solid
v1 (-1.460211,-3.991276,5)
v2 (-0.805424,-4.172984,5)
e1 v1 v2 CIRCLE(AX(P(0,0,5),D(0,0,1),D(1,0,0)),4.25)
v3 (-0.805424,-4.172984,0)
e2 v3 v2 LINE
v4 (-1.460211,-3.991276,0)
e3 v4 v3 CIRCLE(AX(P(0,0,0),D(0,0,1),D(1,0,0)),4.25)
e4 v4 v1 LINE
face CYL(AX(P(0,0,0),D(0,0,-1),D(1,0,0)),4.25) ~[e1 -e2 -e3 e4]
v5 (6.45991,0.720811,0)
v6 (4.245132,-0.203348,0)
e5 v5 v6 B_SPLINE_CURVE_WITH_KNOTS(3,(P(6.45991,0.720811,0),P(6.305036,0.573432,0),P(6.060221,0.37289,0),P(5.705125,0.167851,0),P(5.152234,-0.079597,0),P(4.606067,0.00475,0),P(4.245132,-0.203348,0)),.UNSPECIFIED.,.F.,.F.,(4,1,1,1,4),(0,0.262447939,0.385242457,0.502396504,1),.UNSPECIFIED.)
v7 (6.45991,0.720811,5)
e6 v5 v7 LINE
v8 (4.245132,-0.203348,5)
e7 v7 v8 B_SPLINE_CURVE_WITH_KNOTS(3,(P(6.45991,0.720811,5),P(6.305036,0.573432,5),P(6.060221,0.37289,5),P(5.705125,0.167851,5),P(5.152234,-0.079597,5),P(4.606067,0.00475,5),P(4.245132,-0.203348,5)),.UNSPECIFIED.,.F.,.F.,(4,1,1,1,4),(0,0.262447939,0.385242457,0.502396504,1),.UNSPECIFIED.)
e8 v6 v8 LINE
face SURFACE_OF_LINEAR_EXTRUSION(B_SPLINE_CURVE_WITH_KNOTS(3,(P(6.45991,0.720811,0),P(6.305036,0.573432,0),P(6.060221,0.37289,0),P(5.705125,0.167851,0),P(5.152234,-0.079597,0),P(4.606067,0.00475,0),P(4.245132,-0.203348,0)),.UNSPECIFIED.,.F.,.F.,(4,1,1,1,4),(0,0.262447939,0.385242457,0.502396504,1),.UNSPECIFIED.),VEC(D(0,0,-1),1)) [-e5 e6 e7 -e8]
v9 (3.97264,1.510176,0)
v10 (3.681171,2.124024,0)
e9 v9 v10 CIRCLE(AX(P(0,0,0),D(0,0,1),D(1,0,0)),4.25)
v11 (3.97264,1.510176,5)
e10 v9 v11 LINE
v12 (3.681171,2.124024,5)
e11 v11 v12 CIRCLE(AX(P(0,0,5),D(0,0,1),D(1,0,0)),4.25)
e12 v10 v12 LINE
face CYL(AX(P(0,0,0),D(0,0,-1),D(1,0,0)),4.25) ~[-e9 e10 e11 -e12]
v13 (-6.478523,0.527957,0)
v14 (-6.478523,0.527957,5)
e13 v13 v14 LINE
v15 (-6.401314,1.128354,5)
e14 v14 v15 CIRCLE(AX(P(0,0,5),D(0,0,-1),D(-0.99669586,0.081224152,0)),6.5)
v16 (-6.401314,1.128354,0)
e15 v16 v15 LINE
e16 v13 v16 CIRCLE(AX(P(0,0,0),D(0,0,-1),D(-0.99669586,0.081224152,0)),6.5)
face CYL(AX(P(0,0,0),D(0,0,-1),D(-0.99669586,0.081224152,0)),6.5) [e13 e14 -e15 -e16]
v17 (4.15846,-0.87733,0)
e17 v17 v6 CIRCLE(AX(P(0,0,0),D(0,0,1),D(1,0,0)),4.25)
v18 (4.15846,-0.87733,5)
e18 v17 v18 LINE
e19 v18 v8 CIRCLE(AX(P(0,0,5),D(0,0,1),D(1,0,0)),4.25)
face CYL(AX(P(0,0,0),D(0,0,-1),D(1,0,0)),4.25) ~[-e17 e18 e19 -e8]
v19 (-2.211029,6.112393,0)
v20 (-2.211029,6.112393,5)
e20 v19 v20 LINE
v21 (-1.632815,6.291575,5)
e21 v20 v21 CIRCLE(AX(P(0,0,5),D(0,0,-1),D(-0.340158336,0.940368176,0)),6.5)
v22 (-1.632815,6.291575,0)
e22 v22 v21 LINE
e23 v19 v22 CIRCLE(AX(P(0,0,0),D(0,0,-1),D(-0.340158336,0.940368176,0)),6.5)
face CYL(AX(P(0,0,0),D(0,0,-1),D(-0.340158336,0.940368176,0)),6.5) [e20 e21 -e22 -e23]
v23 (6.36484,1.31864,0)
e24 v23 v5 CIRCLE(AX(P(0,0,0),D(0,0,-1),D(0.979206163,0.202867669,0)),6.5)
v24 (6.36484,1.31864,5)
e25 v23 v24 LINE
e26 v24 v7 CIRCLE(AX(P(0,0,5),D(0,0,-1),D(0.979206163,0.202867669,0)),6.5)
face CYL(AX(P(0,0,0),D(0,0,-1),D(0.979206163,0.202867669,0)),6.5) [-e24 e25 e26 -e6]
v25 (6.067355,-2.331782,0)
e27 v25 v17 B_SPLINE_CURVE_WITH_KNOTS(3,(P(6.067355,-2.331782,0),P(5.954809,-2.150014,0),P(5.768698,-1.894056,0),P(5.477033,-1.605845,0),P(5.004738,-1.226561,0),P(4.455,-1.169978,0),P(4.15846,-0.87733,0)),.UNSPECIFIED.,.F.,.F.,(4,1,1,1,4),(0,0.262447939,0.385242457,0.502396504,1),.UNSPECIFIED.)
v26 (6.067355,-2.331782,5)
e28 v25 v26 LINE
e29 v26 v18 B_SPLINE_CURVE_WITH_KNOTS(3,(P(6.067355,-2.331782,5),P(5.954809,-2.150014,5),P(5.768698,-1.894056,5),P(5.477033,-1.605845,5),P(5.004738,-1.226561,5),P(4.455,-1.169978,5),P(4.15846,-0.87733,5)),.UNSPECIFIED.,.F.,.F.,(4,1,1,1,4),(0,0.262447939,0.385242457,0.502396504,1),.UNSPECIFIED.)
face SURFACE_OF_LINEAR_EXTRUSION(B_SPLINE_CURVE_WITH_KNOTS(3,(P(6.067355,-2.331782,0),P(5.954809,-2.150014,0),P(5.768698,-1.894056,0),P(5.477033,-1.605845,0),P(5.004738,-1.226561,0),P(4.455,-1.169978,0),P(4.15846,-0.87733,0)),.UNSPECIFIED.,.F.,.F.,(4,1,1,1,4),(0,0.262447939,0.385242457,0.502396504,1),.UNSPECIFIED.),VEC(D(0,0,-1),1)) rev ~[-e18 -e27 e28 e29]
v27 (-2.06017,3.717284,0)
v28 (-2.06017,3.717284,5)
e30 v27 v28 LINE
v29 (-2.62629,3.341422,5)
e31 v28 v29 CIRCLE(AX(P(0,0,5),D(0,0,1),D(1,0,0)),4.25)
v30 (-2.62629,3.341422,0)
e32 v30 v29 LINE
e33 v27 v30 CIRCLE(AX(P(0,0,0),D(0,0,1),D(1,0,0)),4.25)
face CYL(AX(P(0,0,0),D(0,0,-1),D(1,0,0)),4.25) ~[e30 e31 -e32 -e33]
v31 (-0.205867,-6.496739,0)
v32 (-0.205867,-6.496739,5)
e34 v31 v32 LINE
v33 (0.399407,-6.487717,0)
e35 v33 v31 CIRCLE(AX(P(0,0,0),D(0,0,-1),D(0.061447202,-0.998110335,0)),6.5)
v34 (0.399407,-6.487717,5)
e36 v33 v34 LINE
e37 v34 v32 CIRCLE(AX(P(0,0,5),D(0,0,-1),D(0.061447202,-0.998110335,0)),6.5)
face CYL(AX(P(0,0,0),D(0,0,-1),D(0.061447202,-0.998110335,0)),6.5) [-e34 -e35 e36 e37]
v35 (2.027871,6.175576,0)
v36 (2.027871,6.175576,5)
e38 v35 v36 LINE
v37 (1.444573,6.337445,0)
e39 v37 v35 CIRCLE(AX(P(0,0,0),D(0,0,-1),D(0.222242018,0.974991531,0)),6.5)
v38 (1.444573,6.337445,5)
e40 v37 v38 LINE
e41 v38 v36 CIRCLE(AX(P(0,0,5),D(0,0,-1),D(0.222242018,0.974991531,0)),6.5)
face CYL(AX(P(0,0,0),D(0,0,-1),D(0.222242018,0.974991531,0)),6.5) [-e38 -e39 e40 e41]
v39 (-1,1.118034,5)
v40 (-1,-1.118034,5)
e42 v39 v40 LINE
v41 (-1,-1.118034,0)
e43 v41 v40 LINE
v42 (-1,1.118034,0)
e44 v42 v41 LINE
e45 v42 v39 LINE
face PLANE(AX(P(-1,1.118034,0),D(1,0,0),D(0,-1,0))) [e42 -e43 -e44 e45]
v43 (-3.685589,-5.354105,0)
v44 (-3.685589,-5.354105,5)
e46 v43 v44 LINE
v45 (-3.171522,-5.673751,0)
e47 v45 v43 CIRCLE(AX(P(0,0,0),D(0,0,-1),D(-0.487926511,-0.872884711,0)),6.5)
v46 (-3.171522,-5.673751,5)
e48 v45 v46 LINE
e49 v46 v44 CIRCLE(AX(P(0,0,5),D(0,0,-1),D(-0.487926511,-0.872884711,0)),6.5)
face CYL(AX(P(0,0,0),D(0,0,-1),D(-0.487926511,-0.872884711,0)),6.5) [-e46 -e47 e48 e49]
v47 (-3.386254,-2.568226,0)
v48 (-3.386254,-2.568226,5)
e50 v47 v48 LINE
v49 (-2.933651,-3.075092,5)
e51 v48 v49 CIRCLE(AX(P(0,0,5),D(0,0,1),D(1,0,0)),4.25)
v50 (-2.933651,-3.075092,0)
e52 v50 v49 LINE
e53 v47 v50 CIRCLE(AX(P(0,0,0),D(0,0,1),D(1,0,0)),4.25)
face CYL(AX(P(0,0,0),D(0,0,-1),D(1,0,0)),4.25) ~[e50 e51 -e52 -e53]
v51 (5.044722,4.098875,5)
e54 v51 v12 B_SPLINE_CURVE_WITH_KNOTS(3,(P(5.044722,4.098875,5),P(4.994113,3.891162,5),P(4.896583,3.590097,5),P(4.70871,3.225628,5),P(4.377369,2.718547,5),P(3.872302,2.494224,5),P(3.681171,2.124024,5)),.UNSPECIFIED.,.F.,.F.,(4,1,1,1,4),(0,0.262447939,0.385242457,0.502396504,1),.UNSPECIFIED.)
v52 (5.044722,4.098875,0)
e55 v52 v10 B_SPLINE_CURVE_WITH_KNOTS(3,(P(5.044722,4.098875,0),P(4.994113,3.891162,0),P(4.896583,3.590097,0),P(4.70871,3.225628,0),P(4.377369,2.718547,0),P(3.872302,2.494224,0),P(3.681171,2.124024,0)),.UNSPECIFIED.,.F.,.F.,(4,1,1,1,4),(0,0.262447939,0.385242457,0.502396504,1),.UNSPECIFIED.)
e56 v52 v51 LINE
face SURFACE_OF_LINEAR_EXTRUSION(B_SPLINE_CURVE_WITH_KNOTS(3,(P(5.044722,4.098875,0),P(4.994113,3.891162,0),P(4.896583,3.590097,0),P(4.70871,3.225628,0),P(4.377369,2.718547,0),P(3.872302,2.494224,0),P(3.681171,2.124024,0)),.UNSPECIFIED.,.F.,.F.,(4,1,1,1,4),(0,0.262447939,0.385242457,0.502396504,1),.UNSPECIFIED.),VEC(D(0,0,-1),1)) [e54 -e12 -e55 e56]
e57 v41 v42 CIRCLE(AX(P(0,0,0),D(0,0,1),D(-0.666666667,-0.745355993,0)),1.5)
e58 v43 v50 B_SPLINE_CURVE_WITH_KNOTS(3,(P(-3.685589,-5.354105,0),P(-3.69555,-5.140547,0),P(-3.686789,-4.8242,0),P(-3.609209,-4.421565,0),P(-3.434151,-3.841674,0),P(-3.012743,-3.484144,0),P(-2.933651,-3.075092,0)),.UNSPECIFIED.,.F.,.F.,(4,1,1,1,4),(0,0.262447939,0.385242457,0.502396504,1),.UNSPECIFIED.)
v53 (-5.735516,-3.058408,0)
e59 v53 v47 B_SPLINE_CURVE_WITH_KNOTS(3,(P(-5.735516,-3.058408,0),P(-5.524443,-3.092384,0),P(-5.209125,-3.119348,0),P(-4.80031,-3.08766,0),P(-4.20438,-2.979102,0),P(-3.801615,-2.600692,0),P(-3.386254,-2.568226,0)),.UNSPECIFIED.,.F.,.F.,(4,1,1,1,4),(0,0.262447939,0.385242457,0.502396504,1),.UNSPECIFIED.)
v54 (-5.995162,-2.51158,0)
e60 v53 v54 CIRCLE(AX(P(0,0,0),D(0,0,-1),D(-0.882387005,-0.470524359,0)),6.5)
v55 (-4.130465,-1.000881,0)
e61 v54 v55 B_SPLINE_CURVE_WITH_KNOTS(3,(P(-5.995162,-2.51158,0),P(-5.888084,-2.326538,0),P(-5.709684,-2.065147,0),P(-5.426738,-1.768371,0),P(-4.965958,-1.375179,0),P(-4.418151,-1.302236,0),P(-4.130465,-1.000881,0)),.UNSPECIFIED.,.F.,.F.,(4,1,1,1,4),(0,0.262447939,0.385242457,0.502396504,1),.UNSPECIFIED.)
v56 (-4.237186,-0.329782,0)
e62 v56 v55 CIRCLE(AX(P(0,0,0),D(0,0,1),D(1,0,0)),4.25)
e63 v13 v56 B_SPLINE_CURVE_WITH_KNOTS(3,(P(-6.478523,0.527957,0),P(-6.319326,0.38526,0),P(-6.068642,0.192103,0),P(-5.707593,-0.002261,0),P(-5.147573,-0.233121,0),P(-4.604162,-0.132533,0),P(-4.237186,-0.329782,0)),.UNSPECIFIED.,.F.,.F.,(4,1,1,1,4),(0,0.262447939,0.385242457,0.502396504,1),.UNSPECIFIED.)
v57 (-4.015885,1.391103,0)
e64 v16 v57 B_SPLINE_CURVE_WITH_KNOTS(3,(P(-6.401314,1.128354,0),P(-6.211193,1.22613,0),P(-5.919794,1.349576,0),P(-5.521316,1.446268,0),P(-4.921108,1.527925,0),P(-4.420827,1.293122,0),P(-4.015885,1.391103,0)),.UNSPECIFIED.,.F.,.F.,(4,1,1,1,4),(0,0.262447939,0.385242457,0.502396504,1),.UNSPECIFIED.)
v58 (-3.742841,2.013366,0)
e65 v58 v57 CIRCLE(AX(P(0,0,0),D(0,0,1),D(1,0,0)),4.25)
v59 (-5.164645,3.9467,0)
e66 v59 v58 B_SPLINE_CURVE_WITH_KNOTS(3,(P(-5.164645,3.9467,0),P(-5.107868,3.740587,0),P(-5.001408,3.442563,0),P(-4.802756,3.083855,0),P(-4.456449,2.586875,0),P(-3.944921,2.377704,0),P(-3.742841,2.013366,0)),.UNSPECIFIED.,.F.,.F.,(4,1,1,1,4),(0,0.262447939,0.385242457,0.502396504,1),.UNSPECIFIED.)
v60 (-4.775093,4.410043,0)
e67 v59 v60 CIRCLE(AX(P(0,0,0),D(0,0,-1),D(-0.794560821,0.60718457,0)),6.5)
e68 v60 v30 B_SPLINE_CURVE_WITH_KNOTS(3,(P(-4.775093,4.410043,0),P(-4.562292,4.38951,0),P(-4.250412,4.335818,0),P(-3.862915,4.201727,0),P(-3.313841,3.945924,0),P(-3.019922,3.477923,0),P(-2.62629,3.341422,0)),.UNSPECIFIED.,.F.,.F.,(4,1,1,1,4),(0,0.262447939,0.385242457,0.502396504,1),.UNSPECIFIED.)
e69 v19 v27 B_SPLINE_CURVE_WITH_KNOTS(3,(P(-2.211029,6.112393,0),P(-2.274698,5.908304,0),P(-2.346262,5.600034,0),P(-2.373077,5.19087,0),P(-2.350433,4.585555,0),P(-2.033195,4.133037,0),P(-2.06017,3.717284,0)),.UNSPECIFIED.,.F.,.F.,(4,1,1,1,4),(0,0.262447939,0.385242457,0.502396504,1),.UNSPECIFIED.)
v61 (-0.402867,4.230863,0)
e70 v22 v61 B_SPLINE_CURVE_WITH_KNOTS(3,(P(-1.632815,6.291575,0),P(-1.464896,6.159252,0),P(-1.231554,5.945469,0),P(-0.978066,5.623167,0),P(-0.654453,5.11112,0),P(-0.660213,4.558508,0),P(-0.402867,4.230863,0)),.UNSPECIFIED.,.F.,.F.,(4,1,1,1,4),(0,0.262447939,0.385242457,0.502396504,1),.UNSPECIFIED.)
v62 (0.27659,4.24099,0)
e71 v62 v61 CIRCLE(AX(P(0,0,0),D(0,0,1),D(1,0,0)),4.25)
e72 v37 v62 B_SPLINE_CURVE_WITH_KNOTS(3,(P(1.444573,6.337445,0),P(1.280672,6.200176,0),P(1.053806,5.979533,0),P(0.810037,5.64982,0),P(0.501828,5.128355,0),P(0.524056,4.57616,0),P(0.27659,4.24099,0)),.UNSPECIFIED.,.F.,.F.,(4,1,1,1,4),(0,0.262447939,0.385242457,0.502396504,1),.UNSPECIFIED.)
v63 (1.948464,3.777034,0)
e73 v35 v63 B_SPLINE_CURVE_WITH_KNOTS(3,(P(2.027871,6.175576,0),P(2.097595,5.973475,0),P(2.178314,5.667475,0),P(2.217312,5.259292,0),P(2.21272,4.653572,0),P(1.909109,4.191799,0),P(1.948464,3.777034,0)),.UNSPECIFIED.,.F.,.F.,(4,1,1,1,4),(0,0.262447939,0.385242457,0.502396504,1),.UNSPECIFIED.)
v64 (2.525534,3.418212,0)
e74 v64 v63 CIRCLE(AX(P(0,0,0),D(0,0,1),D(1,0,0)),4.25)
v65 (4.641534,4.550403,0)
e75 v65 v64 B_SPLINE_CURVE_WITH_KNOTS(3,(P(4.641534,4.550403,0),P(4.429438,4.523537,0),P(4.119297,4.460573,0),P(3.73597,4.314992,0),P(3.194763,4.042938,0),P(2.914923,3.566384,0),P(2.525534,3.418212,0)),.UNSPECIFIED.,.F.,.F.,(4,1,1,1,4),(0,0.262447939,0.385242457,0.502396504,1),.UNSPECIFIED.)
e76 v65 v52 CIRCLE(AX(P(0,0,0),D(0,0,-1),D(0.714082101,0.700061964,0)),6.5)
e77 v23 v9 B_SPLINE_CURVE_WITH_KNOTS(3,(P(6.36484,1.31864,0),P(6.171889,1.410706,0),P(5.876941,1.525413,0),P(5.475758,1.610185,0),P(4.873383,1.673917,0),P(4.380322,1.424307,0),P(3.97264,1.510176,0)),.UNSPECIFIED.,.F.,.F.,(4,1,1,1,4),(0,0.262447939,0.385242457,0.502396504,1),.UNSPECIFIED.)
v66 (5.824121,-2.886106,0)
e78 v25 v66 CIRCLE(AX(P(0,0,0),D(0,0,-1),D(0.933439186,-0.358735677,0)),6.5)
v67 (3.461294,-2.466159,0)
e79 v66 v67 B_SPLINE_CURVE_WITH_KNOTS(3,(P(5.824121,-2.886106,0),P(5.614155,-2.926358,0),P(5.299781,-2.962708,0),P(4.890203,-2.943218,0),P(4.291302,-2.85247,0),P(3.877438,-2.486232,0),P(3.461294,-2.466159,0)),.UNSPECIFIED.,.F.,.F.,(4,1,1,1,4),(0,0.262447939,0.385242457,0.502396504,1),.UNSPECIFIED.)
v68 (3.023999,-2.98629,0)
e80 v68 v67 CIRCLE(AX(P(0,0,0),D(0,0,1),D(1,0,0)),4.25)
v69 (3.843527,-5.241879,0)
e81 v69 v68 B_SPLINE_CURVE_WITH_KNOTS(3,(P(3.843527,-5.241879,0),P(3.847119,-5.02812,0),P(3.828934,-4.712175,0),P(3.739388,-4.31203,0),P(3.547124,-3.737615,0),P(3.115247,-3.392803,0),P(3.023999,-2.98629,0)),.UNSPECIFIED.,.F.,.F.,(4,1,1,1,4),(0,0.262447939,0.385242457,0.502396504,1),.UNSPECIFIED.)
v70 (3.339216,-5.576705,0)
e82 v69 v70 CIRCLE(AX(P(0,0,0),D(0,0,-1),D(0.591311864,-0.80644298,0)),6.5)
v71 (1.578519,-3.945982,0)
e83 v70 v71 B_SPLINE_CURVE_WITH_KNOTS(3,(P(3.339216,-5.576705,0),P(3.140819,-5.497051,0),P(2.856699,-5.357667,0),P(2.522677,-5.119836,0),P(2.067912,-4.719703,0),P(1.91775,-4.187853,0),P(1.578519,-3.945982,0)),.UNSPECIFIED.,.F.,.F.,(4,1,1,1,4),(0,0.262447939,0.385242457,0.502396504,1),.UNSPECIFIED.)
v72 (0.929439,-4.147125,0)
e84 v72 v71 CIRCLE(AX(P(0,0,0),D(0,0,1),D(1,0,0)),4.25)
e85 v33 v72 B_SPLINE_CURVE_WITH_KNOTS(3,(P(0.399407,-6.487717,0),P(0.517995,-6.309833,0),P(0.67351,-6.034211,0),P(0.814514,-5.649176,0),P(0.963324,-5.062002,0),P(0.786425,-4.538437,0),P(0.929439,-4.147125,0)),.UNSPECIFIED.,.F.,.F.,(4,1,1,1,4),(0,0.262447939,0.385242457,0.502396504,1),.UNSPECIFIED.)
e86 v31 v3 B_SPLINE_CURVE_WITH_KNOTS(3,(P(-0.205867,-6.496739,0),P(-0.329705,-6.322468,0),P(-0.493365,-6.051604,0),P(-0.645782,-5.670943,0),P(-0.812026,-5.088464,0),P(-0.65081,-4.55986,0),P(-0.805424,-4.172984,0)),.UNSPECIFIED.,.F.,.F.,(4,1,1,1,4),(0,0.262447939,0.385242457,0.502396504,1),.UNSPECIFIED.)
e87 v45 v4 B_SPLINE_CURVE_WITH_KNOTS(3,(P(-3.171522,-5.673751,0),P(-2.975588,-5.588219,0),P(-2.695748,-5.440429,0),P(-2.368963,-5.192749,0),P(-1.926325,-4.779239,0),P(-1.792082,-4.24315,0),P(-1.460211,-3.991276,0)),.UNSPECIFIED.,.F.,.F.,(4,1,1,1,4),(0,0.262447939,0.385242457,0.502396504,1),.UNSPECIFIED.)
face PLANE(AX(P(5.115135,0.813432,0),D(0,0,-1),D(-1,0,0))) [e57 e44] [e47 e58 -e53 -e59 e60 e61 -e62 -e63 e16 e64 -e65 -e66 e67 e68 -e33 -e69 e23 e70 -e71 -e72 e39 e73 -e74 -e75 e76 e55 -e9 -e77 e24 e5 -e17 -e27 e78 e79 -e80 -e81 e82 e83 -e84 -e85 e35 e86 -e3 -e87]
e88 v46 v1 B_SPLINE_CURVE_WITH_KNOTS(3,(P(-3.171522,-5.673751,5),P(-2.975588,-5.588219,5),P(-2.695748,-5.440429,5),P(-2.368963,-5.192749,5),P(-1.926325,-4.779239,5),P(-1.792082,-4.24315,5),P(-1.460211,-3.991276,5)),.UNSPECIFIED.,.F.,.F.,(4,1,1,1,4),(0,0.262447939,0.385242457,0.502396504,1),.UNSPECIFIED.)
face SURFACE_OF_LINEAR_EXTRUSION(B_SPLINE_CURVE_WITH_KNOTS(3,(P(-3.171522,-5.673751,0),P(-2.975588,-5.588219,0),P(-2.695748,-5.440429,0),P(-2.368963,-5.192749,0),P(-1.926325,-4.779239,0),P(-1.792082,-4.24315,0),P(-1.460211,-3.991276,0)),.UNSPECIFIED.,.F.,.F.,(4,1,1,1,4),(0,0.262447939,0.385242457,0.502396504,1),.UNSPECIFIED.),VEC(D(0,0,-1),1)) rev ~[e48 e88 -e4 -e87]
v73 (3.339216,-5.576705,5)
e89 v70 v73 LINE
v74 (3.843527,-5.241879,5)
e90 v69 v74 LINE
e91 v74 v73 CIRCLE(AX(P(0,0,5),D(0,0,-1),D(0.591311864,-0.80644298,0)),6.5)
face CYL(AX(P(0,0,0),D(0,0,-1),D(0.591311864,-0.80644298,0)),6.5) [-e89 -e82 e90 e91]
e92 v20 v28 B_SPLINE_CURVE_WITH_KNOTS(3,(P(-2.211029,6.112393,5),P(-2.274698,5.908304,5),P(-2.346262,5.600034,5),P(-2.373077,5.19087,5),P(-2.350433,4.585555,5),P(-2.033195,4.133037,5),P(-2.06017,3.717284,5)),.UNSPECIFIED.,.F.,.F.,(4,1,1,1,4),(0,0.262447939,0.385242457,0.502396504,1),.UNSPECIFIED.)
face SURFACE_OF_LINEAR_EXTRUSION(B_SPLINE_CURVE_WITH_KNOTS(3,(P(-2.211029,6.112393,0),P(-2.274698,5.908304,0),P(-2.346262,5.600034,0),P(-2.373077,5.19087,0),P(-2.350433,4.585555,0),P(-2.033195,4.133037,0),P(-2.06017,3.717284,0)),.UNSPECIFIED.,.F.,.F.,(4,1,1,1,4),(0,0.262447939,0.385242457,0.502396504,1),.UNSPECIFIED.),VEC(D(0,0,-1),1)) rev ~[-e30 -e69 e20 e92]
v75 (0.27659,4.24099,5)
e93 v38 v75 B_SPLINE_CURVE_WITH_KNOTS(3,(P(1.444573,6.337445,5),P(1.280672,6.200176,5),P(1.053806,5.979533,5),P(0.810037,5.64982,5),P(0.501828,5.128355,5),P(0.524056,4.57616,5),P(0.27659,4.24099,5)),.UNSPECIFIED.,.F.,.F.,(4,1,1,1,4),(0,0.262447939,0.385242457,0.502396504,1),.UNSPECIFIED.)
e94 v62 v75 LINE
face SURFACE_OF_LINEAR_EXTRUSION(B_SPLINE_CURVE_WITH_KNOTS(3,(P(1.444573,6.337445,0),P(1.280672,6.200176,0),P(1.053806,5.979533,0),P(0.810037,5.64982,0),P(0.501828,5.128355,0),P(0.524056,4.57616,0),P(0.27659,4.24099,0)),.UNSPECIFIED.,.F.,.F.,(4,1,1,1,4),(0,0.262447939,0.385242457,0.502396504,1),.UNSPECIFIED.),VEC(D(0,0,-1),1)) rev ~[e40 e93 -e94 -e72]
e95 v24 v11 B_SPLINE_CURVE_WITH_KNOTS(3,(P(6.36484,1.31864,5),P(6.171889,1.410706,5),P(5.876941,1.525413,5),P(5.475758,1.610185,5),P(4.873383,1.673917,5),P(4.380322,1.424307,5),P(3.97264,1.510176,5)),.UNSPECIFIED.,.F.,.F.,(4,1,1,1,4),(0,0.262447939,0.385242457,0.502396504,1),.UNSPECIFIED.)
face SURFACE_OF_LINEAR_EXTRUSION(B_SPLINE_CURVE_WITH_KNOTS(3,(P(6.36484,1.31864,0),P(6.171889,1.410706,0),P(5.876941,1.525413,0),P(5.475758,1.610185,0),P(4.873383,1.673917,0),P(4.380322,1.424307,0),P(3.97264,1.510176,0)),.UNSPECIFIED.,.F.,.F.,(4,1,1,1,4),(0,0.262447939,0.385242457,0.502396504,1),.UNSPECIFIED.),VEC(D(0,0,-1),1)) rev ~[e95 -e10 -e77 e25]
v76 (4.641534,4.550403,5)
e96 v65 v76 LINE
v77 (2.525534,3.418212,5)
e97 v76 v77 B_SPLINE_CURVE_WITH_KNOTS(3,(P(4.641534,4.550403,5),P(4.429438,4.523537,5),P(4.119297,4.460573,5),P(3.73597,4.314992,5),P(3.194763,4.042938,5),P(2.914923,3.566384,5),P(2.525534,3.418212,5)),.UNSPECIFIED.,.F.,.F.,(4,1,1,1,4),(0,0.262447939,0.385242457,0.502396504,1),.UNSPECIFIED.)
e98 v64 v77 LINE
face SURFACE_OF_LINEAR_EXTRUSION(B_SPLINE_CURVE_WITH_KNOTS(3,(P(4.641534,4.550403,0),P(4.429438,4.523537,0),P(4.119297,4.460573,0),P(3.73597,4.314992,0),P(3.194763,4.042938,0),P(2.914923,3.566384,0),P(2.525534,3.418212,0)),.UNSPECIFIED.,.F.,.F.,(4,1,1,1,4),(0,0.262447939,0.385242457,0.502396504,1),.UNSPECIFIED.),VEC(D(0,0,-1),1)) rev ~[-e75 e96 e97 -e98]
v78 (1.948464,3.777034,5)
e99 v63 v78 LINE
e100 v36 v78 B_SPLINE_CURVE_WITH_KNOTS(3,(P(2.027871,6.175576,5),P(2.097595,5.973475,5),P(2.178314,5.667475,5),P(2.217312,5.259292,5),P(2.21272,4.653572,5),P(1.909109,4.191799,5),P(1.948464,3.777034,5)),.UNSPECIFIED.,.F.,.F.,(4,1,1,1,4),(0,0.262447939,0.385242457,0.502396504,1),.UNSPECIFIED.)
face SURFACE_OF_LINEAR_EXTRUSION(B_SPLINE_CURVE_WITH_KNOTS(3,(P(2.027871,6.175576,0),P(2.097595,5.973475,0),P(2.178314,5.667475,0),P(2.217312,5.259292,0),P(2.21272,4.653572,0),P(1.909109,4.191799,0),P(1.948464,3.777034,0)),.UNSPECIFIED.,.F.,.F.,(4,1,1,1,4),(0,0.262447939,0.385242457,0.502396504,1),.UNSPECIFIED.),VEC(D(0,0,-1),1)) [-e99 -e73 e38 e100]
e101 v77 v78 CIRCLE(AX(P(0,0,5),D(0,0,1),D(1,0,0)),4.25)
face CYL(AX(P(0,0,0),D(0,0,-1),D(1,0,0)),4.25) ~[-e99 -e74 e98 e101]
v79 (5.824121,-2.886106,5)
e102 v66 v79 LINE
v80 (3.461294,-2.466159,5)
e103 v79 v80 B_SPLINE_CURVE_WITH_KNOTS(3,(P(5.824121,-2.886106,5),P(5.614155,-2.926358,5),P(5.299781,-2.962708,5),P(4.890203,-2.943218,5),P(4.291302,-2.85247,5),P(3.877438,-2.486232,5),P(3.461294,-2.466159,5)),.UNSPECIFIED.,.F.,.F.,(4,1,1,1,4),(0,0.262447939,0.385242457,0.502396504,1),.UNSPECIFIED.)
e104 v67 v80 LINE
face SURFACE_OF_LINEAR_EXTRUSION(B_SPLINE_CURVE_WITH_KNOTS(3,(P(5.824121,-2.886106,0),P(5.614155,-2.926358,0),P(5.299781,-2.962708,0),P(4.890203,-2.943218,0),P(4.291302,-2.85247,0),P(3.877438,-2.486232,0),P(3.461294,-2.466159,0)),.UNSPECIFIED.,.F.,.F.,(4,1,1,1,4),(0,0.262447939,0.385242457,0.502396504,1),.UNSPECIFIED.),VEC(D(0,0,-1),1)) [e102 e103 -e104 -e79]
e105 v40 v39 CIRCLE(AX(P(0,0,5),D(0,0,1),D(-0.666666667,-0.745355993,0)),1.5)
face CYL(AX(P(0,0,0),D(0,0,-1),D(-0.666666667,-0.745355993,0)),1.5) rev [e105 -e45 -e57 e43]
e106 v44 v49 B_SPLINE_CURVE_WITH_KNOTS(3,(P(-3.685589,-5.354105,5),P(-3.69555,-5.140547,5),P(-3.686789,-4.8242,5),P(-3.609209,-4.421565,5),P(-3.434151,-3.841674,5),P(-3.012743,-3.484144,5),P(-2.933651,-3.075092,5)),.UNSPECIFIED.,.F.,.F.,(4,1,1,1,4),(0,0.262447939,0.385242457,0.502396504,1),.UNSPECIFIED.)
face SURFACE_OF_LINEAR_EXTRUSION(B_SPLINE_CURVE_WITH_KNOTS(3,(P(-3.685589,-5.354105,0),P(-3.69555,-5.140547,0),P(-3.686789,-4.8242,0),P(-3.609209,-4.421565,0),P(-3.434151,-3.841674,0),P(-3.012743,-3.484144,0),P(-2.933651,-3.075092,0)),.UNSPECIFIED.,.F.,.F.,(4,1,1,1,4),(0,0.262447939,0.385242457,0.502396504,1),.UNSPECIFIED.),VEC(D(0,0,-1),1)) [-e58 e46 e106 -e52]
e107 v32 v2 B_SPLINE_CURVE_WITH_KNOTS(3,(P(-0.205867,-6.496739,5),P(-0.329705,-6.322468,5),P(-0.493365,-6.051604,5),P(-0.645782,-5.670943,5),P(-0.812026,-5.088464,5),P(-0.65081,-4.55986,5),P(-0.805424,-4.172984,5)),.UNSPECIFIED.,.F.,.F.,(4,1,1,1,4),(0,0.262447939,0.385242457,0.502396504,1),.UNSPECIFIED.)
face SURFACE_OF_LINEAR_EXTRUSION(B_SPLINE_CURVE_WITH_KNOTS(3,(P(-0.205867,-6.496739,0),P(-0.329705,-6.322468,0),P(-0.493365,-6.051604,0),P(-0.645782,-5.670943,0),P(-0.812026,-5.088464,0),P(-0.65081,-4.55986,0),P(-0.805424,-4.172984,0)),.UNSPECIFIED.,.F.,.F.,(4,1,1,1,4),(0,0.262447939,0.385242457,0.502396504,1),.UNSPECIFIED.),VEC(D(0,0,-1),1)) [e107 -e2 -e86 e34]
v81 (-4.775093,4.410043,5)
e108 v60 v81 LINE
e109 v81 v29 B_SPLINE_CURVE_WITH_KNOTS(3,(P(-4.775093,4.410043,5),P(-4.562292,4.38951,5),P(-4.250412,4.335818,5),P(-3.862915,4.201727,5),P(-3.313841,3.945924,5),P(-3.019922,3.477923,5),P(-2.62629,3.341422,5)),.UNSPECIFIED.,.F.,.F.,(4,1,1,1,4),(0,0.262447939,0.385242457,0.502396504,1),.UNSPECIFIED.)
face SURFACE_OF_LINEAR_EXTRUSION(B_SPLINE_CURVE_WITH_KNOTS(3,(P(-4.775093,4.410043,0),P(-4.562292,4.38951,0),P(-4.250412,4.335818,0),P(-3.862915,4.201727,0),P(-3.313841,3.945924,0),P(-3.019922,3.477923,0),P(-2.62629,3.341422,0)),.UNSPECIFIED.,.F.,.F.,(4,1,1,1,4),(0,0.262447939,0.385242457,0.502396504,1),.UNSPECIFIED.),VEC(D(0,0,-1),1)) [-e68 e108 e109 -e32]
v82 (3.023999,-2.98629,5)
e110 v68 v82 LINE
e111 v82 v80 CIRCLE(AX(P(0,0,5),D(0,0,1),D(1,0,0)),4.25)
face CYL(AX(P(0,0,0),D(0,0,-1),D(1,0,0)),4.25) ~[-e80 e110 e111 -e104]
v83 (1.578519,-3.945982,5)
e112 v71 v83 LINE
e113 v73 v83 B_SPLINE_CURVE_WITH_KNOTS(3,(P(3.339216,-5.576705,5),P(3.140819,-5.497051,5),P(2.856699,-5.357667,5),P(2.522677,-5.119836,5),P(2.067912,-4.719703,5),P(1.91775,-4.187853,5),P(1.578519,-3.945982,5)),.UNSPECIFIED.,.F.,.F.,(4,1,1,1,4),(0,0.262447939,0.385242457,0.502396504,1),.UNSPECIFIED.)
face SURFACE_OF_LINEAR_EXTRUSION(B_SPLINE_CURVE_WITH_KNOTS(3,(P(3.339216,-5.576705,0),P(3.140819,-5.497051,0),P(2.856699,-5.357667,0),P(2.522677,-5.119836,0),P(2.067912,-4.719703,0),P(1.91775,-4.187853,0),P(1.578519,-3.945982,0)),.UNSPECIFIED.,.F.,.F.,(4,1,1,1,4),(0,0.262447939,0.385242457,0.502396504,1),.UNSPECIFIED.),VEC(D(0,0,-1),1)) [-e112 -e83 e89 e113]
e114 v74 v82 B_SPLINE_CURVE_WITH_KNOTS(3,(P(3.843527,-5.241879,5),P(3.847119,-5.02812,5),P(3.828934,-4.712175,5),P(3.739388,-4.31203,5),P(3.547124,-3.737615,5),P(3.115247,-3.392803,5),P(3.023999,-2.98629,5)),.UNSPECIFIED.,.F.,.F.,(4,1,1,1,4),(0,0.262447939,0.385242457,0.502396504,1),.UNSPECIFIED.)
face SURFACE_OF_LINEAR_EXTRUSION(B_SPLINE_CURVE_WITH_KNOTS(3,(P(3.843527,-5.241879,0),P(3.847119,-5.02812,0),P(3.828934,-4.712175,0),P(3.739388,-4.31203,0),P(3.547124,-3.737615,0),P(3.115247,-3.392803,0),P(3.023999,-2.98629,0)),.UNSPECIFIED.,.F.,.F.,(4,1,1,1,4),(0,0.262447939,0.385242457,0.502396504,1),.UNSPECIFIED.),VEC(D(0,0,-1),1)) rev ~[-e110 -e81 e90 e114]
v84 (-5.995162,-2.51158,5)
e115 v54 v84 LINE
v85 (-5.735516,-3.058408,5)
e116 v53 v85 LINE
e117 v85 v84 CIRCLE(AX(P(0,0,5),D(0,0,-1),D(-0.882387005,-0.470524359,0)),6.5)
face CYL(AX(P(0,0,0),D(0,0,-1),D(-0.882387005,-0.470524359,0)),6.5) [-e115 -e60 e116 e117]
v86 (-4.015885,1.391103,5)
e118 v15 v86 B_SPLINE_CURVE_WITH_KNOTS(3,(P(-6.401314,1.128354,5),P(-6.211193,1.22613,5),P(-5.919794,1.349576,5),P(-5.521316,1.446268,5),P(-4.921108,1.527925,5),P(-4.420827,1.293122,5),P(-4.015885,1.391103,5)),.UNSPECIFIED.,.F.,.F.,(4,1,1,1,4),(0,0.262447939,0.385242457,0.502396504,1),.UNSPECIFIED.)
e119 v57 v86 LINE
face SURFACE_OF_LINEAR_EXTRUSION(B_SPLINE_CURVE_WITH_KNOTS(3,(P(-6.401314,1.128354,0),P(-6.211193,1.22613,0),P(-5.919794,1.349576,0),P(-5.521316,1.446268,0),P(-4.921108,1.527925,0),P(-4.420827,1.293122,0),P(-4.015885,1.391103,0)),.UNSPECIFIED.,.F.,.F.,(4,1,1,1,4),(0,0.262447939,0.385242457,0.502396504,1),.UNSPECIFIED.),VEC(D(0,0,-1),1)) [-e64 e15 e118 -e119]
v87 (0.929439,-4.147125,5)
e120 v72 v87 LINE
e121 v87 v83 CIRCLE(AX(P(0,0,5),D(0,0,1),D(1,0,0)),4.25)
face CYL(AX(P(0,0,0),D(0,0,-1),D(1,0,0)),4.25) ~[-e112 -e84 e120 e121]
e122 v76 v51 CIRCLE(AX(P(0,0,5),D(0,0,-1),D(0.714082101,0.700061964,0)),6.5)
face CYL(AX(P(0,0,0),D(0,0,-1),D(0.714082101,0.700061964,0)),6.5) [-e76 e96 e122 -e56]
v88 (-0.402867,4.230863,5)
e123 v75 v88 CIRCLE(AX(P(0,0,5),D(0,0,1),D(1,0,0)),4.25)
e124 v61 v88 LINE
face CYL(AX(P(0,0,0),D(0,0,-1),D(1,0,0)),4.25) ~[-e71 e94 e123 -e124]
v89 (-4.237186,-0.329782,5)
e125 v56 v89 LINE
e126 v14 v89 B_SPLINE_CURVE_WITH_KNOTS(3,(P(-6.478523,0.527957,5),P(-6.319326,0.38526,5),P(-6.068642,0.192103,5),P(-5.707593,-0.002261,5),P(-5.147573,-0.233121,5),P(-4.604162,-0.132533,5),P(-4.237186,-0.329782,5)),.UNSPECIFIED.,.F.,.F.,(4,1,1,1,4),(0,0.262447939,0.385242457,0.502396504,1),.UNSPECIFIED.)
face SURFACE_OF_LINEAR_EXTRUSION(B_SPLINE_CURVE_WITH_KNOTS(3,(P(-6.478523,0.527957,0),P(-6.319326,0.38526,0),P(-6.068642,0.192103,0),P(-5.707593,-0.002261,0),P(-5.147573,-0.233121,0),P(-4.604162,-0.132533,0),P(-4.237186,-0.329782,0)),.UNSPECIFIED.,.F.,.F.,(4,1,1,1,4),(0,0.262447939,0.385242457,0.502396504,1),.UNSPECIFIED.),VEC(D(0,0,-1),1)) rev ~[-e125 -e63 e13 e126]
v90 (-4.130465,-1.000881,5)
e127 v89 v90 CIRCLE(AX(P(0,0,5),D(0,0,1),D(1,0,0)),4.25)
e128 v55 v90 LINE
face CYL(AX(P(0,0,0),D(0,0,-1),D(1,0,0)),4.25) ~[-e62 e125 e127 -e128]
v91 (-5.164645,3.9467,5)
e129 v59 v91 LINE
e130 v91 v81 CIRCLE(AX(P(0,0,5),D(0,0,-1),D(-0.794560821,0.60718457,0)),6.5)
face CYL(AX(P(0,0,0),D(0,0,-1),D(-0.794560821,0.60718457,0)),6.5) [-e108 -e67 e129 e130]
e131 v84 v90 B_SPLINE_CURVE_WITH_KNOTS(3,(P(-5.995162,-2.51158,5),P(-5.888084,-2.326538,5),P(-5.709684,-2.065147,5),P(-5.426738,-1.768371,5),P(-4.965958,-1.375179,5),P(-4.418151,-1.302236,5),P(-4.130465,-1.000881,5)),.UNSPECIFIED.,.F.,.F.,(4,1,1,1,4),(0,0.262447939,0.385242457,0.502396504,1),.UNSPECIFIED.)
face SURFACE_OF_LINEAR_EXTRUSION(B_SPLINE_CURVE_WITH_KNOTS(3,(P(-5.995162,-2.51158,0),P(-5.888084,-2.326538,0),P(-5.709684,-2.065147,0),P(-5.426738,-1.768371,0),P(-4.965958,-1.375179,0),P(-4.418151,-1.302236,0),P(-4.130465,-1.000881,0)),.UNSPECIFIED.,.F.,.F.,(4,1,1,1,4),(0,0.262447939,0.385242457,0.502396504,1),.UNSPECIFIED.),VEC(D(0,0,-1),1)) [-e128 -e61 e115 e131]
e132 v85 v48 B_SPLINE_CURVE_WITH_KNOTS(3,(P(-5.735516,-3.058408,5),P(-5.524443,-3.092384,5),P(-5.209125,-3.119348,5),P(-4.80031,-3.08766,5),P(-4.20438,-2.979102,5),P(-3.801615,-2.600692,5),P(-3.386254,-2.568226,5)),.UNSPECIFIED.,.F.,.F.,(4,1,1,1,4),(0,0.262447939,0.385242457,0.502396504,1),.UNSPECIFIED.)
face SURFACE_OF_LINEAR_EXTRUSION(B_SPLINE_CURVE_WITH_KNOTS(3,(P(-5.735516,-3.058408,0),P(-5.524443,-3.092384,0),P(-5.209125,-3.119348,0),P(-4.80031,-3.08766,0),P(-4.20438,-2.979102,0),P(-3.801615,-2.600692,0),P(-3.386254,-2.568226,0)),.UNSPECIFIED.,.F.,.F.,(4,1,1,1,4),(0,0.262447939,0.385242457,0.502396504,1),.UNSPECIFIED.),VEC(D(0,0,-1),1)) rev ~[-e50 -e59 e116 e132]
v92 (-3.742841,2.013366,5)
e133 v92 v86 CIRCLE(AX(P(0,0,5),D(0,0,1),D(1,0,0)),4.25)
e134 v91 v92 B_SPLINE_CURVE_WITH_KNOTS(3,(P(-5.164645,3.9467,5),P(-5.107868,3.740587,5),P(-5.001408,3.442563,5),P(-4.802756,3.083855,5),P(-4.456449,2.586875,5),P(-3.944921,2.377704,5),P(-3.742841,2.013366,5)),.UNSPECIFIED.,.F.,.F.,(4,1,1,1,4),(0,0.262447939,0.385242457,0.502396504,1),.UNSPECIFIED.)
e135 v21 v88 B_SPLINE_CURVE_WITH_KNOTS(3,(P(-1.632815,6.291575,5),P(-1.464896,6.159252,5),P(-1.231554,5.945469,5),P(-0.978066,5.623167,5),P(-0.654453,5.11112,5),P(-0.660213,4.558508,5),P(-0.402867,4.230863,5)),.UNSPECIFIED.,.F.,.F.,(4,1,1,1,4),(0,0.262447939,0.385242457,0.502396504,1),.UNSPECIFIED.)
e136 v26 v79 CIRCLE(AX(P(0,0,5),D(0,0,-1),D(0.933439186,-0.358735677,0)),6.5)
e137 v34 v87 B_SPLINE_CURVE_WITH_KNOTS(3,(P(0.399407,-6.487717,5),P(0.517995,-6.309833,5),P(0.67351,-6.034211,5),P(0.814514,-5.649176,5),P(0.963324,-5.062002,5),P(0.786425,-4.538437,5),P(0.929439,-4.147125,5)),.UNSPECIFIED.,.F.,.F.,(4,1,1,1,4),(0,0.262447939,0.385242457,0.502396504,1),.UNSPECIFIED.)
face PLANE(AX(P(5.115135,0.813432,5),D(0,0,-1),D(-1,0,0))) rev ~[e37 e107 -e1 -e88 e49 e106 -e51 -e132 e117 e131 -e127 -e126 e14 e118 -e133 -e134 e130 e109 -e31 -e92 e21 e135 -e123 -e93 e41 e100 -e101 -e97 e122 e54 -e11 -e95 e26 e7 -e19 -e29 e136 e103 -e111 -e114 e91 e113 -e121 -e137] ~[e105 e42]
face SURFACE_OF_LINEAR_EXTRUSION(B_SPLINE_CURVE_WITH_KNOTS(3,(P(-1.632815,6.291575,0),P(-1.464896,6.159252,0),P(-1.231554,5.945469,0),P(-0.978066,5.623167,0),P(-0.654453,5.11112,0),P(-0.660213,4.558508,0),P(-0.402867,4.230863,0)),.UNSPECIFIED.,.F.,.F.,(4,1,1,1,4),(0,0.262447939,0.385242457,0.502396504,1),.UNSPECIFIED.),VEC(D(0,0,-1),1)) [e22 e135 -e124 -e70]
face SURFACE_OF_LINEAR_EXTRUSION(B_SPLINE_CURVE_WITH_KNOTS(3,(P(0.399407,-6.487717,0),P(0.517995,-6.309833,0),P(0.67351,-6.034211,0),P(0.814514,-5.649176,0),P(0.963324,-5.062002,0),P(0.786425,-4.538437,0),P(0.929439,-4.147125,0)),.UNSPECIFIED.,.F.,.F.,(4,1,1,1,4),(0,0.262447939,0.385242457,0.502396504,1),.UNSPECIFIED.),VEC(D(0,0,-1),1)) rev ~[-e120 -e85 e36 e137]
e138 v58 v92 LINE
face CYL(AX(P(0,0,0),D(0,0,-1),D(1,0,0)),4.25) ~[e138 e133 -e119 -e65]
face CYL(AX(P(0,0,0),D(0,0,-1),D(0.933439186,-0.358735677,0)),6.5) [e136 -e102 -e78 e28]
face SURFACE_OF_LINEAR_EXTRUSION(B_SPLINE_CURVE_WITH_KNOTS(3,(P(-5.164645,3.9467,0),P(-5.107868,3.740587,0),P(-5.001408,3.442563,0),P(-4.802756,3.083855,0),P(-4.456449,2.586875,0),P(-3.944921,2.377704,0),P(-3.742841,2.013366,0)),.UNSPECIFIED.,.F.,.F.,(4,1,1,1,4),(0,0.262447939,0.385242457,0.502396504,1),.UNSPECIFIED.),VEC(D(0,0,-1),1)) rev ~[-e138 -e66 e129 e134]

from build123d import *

# Parameters (mm, degrees)
SKETCH_1_R               = 4.25
EXTRUDE_1_DEPTH          = 5
EXTRUDE_2_DEPTH          = 5
PATTERN_CIRCULAR_1_COUNT = 11


with BuildPart() as part:
    # 草图1 → 凸台-拉伸1 (new body)
    with BuildSketch(Plane.XY):
        Circle(SKETCH_1_R)
        with BuildLine():
            Line((-1, 1.118033989), (-1, -1.118033989))
            ThreePointArc((-1, -1.118033989), (1.5, 0), (-1, 1.118033989))
        make_face(mode=Mode.SUBTRACT)
    extrude(amount=EXTRUDE_1_DEPTH)

    # 草图2 → 凸台-拉伸2 (add)
    with BuildSketch(Plane.XY):
        with BuildLine():
            ThreePointArc((6.364840058, 1.318639842), (6.41933804, 1.020832567), (6.459909598, 0.720810648))
            add(Edge.make_bspline(
                [(6.459909598, 0.720810648), (6.30503635, 0.573432081), (6.060220687, 0.372889718), (5.705124958, 0.167850699), (5.152234448, -0.07959703), (4.606066867, 0.004749759), (4.245132436, -0.203348467)],
                knots=[0, 0, 0, 0, 0.262447939, 0.385242457, 0.502396504, 1, 1, 1, 1], degree=3))
            ThreePointArc((4.245132436, -0.203348467), (4.197259488, 0.667467448), (3.972639872, 1.510176297))
            add(Edge.make_bspline(
                [(6.364840058, 1.318639842), (6.171889239, 1.410705831), (5.87694123, 1.5254125), (5.475758403, 1.610184636), (4.873382667, 1.67391663), (4.380322357, 1.424307057), (3.972639872, 1.510176297)],
                knots=[0, 0, 0, 0, 0.262447939, 0.385242457, 0.502396504, 1, 1, 1, 1], degree=3))
        make_face()
    extrude_2 = extrude(amount=EXTRUDE_2_DEPTH)

    # 阵列(圆周)1: 凸台-拉伸2 ×11 about axis
    pattern_circular_1_axis = Axis((0, 0, 5), (0, 0, -1))
    for i in range(1, PATTERN_CIRCULAR_1_COUNT):
        add(extrude_2.rotate(pattern_circular_1_axis, i * 360 / PATTERN_CIRCULAR_1_COUNT))


solid = part.part
